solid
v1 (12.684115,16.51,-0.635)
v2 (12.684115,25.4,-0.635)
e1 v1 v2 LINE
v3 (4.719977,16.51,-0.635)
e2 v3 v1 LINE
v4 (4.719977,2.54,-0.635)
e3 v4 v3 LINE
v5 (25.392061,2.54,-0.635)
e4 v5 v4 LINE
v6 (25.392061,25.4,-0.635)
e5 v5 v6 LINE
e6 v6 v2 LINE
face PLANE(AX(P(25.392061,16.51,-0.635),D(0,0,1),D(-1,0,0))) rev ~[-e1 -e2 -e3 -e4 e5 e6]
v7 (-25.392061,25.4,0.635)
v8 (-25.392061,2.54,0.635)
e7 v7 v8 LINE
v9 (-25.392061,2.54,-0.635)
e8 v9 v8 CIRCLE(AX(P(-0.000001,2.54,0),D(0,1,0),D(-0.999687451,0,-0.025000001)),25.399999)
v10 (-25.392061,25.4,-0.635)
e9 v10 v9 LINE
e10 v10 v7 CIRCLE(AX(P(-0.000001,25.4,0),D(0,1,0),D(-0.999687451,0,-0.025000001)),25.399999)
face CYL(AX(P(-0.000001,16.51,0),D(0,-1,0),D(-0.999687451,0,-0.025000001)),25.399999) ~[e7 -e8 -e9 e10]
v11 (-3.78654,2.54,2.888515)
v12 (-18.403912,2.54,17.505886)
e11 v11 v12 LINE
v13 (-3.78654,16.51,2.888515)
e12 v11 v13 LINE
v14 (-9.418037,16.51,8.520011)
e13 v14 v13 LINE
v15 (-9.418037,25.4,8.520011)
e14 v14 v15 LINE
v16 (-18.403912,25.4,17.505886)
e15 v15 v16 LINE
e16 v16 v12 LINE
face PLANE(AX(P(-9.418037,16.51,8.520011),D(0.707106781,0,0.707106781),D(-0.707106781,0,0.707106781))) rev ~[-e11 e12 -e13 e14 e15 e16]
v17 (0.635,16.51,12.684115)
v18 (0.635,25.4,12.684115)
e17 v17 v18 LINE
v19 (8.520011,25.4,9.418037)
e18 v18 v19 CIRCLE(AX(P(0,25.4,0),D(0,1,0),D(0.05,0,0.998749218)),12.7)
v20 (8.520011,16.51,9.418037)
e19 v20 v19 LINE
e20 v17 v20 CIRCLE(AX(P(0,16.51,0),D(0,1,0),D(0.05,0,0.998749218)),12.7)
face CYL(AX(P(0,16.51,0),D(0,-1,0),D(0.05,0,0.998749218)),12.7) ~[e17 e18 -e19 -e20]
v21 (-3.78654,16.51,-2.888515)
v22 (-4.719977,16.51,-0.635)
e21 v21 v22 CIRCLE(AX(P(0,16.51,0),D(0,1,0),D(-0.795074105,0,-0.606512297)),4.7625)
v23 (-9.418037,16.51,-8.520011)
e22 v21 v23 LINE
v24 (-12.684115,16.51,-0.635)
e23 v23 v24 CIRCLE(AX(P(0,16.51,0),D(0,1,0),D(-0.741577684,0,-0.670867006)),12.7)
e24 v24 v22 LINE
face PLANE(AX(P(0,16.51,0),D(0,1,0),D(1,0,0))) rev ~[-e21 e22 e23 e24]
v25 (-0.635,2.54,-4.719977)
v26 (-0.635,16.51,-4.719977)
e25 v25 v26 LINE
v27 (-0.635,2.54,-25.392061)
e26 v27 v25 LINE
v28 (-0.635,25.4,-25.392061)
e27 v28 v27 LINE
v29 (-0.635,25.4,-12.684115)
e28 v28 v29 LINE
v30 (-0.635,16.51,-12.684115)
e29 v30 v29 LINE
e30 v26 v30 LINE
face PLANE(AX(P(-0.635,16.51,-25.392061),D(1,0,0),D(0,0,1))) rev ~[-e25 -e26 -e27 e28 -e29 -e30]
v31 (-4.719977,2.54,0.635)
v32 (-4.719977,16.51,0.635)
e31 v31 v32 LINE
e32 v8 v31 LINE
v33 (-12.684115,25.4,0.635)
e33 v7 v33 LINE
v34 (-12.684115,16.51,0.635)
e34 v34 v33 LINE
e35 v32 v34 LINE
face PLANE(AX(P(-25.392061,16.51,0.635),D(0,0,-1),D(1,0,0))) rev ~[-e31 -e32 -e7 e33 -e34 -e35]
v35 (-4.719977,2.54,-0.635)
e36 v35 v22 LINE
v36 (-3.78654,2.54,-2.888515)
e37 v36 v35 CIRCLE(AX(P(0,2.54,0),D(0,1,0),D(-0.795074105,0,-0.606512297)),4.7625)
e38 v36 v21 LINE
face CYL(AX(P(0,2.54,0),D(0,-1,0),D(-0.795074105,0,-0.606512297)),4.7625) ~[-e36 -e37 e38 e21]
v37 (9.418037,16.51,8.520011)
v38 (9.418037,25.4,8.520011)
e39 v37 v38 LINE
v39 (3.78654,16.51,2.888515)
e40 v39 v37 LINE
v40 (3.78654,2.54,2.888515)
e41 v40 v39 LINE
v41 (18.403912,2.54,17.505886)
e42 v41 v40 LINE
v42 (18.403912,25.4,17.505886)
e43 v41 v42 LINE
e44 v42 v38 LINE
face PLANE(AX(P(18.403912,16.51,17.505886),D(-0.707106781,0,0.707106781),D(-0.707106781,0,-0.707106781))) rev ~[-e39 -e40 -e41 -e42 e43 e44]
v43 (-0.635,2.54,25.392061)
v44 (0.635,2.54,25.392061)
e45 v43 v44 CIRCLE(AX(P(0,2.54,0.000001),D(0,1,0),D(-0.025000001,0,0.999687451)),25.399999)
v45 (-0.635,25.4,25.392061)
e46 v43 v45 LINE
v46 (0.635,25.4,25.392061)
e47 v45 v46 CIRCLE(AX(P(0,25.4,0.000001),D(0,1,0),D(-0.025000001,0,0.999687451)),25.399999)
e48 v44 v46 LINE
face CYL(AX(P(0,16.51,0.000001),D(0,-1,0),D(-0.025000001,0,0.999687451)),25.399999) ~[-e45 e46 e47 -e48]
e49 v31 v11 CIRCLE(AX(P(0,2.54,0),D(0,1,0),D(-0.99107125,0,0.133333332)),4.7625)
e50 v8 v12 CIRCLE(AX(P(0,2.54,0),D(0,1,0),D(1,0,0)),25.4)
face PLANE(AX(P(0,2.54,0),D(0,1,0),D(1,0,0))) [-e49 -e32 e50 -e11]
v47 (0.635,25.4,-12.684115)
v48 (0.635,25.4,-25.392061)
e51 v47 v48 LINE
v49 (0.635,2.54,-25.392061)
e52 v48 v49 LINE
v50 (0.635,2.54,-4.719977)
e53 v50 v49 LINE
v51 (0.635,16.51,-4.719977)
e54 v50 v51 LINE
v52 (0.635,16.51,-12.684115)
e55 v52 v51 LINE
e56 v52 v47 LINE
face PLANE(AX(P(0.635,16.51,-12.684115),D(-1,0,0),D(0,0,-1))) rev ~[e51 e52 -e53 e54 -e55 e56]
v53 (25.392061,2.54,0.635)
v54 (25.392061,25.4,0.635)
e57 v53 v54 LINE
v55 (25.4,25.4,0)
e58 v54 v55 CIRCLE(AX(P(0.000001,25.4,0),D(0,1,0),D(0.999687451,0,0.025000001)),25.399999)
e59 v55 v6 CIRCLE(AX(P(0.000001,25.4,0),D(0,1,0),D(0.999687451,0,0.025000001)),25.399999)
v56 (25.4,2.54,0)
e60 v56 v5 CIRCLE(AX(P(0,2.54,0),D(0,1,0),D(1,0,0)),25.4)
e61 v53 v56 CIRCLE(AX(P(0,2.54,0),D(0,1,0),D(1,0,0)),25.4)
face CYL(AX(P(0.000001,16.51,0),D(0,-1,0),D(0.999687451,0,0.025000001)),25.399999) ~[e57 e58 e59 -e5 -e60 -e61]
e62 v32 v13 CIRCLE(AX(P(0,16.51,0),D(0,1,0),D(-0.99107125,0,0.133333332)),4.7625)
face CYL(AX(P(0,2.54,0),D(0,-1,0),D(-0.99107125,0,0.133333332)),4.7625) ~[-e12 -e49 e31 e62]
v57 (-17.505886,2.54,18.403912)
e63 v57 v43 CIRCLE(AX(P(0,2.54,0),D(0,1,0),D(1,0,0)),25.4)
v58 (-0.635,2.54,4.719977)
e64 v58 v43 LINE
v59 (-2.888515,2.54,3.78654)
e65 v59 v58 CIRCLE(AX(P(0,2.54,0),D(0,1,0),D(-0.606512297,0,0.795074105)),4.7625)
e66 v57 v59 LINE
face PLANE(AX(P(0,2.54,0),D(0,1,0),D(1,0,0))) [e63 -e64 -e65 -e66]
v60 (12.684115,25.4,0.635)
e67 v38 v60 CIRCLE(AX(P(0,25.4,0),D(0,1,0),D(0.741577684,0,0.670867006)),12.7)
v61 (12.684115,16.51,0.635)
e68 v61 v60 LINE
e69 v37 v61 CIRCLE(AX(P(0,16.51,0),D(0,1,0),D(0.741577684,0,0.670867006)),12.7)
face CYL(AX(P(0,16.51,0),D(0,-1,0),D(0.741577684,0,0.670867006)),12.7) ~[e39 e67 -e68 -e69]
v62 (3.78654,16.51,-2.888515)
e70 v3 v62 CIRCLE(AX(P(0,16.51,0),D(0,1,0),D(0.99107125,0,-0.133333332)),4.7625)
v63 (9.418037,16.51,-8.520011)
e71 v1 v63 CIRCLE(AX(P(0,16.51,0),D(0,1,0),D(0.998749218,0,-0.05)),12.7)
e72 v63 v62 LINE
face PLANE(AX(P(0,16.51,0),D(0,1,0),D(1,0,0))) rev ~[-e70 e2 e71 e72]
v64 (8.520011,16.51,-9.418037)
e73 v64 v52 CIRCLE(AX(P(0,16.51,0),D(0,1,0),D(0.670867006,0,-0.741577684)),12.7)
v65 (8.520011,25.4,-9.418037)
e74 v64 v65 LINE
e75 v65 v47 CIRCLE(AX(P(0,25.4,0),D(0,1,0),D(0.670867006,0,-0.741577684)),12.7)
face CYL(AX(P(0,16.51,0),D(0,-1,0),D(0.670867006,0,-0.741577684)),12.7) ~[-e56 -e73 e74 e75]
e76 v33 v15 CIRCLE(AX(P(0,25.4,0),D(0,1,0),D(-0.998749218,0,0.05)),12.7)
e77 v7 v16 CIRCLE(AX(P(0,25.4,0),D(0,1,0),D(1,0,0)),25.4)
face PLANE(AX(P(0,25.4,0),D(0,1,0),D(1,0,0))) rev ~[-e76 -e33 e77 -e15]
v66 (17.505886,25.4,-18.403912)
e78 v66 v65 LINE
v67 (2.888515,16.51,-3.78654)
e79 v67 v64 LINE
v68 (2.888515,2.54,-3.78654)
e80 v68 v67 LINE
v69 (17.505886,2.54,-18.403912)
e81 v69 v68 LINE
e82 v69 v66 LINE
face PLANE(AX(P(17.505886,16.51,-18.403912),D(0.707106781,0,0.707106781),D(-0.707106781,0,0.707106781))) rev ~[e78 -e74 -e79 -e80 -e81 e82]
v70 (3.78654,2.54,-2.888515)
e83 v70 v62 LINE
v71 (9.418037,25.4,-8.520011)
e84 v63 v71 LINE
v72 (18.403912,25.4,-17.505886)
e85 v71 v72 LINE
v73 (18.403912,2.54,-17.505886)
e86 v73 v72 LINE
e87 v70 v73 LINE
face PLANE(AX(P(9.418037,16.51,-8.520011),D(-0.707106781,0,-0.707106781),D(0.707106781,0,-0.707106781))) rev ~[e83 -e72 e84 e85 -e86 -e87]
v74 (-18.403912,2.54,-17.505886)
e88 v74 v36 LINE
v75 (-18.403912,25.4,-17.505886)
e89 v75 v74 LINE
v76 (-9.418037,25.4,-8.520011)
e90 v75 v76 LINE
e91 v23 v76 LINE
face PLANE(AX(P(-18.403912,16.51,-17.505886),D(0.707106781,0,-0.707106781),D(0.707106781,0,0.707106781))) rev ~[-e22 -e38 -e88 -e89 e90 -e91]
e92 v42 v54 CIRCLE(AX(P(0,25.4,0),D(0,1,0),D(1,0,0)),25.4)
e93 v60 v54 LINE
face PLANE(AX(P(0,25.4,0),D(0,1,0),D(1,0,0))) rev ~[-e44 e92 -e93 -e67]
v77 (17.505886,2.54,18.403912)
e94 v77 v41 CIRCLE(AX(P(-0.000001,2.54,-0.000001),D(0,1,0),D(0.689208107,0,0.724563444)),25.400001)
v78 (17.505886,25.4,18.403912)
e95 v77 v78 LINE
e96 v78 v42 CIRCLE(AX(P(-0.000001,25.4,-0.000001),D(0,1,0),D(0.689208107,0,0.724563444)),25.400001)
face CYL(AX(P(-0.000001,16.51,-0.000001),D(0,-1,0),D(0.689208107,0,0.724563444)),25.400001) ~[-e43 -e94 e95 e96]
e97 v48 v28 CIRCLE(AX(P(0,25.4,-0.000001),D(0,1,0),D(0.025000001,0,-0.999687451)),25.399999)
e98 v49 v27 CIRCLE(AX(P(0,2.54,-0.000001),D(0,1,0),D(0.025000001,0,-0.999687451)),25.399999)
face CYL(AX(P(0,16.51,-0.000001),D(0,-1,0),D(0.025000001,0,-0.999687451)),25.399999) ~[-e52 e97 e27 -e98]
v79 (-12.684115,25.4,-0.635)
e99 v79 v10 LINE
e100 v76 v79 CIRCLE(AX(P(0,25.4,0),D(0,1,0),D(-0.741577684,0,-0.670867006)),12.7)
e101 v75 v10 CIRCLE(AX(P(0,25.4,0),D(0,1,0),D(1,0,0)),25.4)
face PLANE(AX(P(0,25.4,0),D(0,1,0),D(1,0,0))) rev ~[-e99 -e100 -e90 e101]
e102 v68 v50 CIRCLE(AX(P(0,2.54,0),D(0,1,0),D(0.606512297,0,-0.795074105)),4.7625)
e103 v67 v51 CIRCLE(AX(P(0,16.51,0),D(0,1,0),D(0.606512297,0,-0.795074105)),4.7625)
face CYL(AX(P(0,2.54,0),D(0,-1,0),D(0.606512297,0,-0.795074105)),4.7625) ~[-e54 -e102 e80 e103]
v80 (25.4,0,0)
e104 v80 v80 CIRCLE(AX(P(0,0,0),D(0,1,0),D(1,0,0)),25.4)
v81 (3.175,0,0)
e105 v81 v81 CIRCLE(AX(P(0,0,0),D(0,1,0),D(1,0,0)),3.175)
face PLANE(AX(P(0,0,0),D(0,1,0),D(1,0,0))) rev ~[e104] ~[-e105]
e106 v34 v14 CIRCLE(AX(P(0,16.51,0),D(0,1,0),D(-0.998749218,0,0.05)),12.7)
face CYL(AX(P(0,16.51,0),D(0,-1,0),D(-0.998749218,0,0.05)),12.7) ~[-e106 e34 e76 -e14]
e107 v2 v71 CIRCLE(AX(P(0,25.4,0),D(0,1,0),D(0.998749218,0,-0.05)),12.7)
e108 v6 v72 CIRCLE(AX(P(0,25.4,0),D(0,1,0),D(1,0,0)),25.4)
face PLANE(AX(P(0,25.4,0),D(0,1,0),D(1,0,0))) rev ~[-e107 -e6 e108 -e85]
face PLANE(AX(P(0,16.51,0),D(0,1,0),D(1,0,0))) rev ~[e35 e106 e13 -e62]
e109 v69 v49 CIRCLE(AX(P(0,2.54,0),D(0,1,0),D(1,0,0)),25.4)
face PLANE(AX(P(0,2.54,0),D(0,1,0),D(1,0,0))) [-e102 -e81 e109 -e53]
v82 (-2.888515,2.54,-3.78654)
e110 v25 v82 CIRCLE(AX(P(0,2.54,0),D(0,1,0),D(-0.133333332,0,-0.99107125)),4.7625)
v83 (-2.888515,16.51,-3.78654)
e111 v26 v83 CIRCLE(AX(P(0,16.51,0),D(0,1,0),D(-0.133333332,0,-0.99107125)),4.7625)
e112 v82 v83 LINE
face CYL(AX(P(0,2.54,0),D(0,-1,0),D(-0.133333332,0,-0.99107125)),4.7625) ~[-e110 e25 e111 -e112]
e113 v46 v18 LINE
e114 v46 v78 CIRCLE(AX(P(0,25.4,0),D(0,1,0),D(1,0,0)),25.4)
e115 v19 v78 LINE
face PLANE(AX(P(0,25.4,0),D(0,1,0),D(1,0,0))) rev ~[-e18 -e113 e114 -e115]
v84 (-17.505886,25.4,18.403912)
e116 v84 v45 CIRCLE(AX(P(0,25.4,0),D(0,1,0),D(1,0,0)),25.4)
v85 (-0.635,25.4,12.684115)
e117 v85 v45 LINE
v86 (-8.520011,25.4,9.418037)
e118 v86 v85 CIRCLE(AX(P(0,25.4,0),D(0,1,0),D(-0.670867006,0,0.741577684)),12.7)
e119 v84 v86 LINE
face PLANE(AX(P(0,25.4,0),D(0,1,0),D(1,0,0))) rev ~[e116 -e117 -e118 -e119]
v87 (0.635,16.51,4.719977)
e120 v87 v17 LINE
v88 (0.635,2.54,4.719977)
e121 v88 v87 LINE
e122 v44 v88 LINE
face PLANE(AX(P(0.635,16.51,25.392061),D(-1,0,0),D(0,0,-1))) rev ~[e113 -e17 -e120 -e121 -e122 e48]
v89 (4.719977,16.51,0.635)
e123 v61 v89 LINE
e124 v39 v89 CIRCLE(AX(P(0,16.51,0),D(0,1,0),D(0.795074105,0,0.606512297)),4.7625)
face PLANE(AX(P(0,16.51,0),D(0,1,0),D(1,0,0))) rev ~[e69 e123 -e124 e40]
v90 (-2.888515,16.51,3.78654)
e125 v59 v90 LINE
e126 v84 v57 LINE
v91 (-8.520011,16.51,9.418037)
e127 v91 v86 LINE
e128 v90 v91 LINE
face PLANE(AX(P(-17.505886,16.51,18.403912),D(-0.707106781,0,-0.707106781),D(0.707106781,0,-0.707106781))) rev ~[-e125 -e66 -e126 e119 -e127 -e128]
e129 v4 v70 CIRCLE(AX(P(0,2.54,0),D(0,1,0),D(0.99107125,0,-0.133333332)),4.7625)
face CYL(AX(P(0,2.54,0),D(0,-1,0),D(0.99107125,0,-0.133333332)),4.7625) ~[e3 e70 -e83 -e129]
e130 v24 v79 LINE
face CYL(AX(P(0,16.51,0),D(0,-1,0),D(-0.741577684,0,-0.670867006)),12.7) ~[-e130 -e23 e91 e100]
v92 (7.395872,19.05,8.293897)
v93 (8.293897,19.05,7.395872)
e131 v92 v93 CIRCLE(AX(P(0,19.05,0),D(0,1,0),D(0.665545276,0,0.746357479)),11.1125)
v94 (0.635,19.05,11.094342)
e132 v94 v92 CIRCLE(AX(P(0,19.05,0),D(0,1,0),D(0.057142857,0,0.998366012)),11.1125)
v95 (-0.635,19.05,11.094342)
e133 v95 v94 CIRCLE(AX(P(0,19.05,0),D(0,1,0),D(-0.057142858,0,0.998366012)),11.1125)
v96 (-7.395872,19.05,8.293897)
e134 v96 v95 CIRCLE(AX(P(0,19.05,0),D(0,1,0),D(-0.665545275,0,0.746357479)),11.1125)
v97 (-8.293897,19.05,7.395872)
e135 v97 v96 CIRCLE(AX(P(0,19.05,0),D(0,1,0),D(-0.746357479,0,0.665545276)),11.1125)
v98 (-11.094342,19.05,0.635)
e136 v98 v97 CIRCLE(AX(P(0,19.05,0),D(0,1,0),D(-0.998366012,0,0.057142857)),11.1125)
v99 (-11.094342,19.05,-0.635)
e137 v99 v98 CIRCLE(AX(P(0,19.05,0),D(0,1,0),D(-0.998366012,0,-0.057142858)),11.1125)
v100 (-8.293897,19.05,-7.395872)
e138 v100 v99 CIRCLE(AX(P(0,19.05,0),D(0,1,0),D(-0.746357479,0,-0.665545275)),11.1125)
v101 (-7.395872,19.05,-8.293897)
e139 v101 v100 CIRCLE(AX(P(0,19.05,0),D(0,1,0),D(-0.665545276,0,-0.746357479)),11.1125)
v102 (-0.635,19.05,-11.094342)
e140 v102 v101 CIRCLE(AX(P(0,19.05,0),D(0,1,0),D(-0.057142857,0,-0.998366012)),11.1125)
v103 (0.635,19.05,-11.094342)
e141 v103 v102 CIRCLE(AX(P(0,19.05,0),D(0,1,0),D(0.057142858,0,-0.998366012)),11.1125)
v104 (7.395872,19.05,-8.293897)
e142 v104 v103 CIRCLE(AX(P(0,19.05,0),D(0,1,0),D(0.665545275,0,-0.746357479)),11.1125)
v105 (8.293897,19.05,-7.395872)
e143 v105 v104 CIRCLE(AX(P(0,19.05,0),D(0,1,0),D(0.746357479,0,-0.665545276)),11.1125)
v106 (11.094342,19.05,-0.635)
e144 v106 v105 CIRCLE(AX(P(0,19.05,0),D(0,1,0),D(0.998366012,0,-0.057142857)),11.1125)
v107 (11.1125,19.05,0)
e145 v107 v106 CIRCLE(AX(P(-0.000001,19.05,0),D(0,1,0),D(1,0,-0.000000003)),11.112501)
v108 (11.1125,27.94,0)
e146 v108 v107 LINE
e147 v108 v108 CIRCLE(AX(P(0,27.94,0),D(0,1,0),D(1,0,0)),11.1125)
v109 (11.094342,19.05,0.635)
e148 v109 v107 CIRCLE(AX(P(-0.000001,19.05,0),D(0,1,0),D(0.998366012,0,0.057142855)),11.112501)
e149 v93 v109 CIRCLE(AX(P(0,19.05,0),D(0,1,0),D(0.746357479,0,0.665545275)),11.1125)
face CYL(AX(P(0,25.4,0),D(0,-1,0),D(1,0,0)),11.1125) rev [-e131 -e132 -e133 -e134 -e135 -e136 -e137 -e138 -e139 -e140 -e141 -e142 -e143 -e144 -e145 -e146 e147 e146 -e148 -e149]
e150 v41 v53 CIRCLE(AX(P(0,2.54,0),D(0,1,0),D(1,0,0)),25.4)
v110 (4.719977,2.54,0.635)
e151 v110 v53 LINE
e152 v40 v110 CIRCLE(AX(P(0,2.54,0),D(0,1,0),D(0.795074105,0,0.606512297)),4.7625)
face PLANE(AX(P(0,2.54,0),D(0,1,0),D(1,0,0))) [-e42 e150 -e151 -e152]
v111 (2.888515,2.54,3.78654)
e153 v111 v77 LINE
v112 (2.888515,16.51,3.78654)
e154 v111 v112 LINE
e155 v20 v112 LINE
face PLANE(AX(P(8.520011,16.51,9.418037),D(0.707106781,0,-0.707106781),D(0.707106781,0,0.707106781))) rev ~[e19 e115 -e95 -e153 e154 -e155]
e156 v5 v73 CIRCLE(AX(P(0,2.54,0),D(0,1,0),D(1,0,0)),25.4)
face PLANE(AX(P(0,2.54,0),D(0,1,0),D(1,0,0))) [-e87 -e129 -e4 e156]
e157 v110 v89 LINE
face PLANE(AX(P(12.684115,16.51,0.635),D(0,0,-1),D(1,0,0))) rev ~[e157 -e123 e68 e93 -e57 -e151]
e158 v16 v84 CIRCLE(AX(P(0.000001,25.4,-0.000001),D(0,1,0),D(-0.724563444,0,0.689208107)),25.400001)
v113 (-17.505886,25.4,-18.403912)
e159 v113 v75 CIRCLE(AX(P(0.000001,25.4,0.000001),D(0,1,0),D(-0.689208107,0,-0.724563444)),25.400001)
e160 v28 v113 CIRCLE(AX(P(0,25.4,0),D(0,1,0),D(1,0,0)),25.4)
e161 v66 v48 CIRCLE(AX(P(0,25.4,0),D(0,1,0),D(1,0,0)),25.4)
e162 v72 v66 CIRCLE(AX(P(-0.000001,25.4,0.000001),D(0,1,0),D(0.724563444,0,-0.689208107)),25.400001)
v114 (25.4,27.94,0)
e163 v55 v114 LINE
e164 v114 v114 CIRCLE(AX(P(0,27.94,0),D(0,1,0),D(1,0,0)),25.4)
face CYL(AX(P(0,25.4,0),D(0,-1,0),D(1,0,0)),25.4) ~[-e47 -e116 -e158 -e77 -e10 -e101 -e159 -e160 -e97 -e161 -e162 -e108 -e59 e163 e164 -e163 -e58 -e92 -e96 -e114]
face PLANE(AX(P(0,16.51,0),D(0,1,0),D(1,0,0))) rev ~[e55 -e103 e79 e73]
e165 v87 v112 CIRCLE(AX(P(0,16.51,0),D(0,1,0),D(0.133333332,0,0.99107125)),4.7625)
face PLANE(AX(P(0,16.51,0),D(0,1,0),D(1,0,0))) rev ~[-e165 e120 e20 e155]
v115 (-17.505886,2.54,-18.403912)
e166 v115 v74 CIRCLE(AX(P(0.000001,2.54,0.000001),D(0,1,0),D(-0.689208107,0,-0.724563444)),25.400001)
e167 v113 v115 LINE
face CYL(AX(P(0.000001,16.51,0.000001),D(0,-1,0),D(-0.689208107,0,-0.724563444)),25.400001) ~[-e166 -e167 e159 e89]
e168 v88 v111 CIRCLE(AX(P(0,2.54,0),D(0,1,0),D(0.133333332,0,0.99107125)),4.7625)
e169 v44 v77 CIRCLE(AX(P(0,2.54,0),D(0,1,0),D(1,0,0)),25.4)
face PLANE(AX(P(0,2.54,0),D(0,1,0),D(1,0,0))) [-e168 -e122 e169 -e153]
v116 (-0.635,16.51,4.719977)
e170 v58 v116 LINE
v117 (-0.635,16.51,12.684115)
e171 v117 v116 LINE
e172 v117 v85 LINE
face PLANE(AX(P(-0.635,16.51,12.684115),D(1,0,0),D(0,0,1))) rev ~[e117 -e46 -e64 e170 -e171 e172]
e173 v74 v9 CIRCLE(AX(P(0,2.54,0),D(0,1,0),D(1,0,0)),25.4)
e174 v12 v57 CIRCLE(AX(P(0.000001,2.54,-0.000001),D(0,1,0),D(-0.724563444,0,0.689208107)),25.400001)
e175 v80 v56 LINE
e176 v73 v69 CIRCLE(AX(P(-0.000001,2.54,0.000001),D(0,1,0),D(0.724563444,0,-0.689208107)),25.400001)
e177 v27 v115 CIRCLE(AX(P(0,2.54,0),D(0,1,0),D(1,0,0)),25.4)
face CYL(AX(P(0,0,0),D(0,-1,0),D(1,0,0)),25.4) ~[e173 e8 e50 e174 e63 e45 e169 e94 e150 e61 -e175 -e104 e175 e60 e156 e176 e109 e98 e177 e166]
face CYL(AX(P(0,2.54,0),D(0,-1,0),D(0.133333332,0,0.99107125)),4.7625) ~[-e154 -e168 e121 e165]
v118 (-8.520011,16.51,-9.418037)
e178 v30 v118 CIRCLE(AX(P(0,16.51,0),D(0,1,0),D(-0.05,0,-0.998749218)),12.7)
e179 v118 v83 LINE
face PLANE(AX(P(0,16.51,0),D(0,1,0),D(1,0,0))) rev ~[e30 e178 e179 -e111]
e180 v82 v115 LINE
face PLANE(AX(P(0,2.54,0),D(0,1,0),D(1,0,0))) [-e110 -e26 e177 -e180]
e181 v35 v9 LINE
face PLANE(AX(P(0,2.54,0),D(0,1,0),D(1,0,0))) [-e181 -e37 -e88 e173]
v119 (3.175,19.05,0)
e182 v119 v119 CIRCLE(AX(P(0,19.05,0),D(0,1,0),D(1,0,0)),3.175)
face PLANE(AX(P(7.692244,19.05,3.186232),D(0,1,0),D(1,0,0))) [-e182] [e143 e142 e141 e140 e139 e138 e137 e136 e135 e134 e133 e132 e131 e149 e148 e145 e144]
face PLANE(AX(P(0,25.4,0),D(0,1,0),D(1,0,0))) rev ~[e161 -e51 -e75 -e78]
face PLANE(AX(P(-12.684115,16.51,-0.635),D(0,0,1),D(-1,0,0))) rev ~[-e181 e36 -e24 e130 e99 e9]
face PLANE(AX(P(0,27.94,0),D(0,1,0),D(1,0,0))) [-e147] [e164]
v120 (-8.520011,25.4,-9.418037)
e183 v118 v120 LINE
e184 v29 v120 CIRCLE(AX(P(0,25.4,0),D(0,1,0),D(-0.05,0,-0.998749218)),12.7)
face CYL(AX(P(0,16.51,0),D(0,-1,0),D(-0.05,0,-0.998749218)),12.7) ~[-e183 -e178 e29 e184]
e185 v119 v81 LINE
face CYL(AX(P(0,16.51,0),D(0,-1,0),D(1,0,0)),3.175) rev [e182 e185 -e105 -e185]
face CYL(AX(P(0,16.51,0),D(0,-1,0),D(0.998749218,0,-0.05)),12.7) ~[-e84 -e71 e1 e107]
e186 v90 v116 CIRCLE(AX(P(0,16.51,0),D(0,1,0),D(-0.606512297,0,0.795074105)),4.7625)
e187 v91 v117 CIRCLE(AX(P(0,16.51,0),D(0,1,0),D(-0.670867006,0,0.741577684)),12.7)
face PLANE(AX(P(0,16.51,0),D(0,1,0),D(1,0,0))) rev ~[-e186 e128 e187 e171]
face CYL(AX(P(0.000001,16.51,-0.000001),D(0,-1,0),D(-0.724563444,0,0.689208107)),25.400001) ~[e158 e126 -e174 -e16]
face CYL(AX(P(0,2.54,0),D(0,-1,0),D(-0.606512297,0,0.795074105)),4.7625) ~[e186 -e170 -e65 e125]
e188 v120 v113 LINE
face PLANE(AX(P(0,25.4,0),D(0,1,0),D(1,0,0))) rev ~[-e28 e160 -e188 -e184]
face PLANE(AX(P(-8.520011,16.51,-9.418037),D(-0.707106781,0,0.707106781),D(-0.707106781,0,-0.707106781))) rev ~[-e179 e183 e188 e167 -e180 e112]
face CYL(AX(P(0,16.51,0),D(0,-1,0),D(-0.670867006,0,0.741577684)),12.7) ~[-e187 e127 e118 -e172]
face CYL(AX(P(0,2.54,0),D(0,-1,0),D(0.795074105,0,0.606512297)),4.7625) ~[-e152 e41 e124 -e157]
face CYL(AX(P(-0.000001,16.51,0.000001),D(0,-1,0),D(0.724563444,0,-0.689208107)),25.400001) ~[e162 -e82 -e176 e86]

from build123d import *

# Parameters (mm, degrees)
SKETCH1_R           = 25.4
SKETCH1_R_2         = 3.175
BOSS_EXTRUDE1_DEPTH = 2.54
SKETCH2_R           = 3.175
BOSS_EXTRUDE4_DEPTH = 13.97
SKETCH5_R           = 11.1125
SKETCH5_R_2         = 3.175
BOSS_EXTRUDE6_DEPTH = 2.54
SKETCH5_4_R         = 11.1125
BOSS_EXTRUDE7_DEPTH = 8.89
SKETCH6_R           = 25.4
SKETCH6_R_2         = 11.1125
BOSS_EXTRUDE8_DEPTH = 2.54


with BuildPart() as part:
    # Sketch1 → Boss-Extrude1 (new body)
    with BuildSketch(Plane(origin=(0, 0, 0), x_dir=(1, 0, 0), z_dir=(0, 1, 0))):
        Circle(SKETCH1_R)
        Circle(SKETCH1_R_2, mode=Mode.SUBTRACT)
    extrude(amount=BOSS_EXTRUDE1_DEPTH)

    # Sketch2 → Boss-Extrude4 (add)
    with BuildSketch(Plane(origin=(0, 2.54, 0), x_dir=(1, 0, 0), z_dir=(0, 1, 0))):
        with BuildLine():
            ThreePointArc((0.635, 25.392061259), (0, 25.4), (-0.635, 25.392061259))
            Line((-0.635, 25.392061259), (-0.635, 4.719976827))
            ThreePointArc((-0.635, 4.719976827), (-1.822529847, 4.399976274), (-2.888514816, 3.786540428))
            Line((-2.888514816, 3.786540428), (-17.505885899, 18.403911511))
            ThreePointArc((-17.505885899, 18.403911511), (-17.960512242, 17.960512242), (-18.403911511, 17.505885899))
            Line((-18.403911511, 17.505885899), (-3.786540428, 2.888514816))
            ThreePointArc((-3.786540428, 2.888514816), (-4.399976274, 1.822529847), (-4.719976827, 0.635))
            Line((-4.719976827, 0.635), (-25.392061259, 0.635))
            ThreePointArc((-25.392061259, 0.635), (-25.4, 0), (-25.392061259, -0.635))
            Line((-25.392061259, -0.635), (-4.719976827, -0.635))
            ThreePointArc((-4.719976827, -0.635), (-4.399976274, -1.822529847), (-3.786540428, -2.888514816))
            Line((-3.786540428, -2.888514816), (-18.403911511, -17.505885899))
            ThreePointArc((-18.403911511, -17.505885899), (-17.960512242, -17.960512242), (-17.505885899, -18.403911511))
            Line((-17.505885899, -18.403911511), (-2.888514816, -3.786540428))
            ThreePointArc((-2.888514816, -3.786540428), (-1.822529847, -4.399976274), (-0.635, -4.719976827))
            Line((-0.635, -4.719976827), (-0.635, -25.392061259))
            ThreePointArc((-0.635, -25.392061259), (0, -25.4), (0.635, -25.392061259))
            Line((0.635, -25.392061259), (0.635, -4.719976827))
            ThreePointArc((0.635, -4.719976827), (1.822529847, -4.399976274), (2.888514816, -3.786540428))
            Line((2.888514816, -3.786540428), (17.505885899, -18.403911511))
            ThreePointArc((17.505885899, -18.403911511), (17.960512242, -17.960512242), (18.403911511, -17.505885899))
            Line((18.403911511, -17.505885899), (3.786540428, -2.888514816))
            ThreePointArc((3.786540428, -2.888514816), (4.399976274, -1.822529847), (4.719976827, -0.635))
            Line((4.719976827, -0.635), (25.392061259, -0.635))
            ThreePointArc((25.392061259, -0.635), (25.4, 0), (25.392061259, 0.635))
            Line((25.392061259, 0.635), (4.719976827, 0.635))
            ThreePointArc((4.719976827, 0.635), (4.399976274, 1.822529847), (3.786540428, 2.888514816))
            Line((3.786540428, 2.888514816), (18.403911511, 17.505885899))
            ThreePointArc((18.403911511, 17.505885899), (17.960512242, 17.960512242), (17.505885899, 18.403911511))
            Line((17.505885899, 18.403911511), (2.888514816, 3.786540428))
            ThreePointArc((2.888514816, 3.786540428), (1.822529847, 4.399976274), (0.635, 4.719976827))
            Line((0.635, 4.719976827), (0.635, 25.392061259))
        make_face()
        Circle(SKETCH2_R, mode=Mode.SUBTRACT)
    extrude(amount=BOSS_EXTRUDE4_DEPTH)

    # Sketch5 → Boss-Extrude6 (add)
    with BuildSketch(Plane(origin=(0, 16.51, 0), x_dir=(1, 0, 0), z_dir=(0, 1, 0))):
        Circle(SKETCH5_R)
        Circle(SKETCH5_R_2, mode=Mode.SUBTRACT)
    extrude(amount=BOSS_EXTRUDE6_DEPTH)

    # Sketch5<4> → Boss-Extrude7 (add)
    with BuildSketch(Plane(origin=(0, 16.51, 0), x_dir=(1, 0, 0), z_dir=(0, 1, 0))):
        with BuildLine():
            ThreePointArc((0.635, -12.684115066), (4.860079591, -11.733270063), (8.52001097, -9.418036582))
            Line((8.52001097, -9.418036582), (17.505885899, -18.403911511))
            ThreePointArc((17.505885899, -18.403911511), (17.960512242, -17.960512242), (18.403911511, -17.505885899))
            Line((18.403911511, -17.505885899), (9.418036582, -8.52001097))
            ThreePointArc((9.418036582, -8.52001097), (11.733270063, -4.860079591), (12.684115066, -0.635))
            Line((12.684115066, -0.635), (25.392061259, -0.635))
            ThreePointArc((25.392061259, -0.635), (25.4, 0), (25.392061259, 0.635))
            Line((25.392061259, 0.635), (12.684115066, 0.635))
            ThreePointArc((12.684115066, 0.635), (11.733270063, 4.860079591), (9.418036582, 8.52001097))
            Line((9.418036582, 8.52001097), (18.403911511, 17.505885899))
            ThreePointArc((18.403911511, 17.505885899), (17.960512242, 17.960512242), (17.505885899, 18.403911511))
            Line((17.505885899, 18.403911511), (8.52001097, 9.418036582))
            ThreePointArc((8.52001097, 9.418036582), (4.860079591, 11.733270063), (0.635, 12.684115066))
            Line((0.635, 12.684115066), (0.635, 25.392061259))
            ThreePointArc((0.635, 25.392061259), (0, 25.4), (-0.635, 25.392061259))
            Line((-0.635, 25.392061259), (-0.635, 12.684115066))
            ThreePointArc((-0.635, 12.684115066), (-4.860079591, 11.733270063), (-8.52001097, 9.418036582))
            Line((-8.52001097, 9.418036582), (-17.505885899, 18.403911511))
            ThreePointArc((-17.505885899, 18.403911511), (-17.960512242, 17.960512242), (-18.403911511, 17.505885899))
            Line((-18.403911511, 17.505885899), (-9.418036582, 8.52001097))
            ThreePointArc((-9.418036582, 8.52001097), (-11.733270063, 4.860079591), (-12.684115066, 0.635))
            Line((-12.684115066, 0.635), (-25.392061259, 0.635))
            ThreePointArc((-25.392061259, 0.635), (-25.4, 0), (-25.392061259, -0.635))
            Line((-25.392061259, -0.635), (-12.684115066, -0.635))
            ThreePointArc((-12.684115066, -0.635), (-11.733270063, -4.860079591), (-9.418036582, -8.52001097))
            Line((-9.418036582, -8.52001097), (-18.403911511, -17.505885899))
            ThreePointArc((-18.403911511, -17.505885899), (-17.960512242, -17.960512242), (-17.505885899, -18.403911511))
            Line((-17.505885899, -18.403911511), (-8.52001097, -9.418036582))
            ThreePointArc((-8.52001097, -9.418036582), (-4.860079591, -11.733270063), (-0.635, -12.684115066))
            Line((-0.635, -12.684115066), (-0.635, -25.392061259))
            ThreePointArc((-0.635, -25.392061259), (0, -25.4), (0.635, -25.392061259))
            Line((0.635, -25.392061259), (0.635, -12.684115066))
        make_face()
        Circle(SKETCH5_4_R, mode=Mode.SUBTRACT)
    extrude(amount=BOSS_EXTRUDE7_DEPTH)

    # Sketch6 → Boss-Extrude8 (add)
    with BuildSketch(Plane(origin=(0, 25.4, 0), x_dir=(1, 0, 0), z_dir=(0, 1, 0))):
        Circle(SKETCH6_R)
        Circle(SKETCH6_R_2, mode=Mode.SUBTRACT)
    extrude(amount=BOSS_EXTRUDE8_DEPTH)


solid = part.part
